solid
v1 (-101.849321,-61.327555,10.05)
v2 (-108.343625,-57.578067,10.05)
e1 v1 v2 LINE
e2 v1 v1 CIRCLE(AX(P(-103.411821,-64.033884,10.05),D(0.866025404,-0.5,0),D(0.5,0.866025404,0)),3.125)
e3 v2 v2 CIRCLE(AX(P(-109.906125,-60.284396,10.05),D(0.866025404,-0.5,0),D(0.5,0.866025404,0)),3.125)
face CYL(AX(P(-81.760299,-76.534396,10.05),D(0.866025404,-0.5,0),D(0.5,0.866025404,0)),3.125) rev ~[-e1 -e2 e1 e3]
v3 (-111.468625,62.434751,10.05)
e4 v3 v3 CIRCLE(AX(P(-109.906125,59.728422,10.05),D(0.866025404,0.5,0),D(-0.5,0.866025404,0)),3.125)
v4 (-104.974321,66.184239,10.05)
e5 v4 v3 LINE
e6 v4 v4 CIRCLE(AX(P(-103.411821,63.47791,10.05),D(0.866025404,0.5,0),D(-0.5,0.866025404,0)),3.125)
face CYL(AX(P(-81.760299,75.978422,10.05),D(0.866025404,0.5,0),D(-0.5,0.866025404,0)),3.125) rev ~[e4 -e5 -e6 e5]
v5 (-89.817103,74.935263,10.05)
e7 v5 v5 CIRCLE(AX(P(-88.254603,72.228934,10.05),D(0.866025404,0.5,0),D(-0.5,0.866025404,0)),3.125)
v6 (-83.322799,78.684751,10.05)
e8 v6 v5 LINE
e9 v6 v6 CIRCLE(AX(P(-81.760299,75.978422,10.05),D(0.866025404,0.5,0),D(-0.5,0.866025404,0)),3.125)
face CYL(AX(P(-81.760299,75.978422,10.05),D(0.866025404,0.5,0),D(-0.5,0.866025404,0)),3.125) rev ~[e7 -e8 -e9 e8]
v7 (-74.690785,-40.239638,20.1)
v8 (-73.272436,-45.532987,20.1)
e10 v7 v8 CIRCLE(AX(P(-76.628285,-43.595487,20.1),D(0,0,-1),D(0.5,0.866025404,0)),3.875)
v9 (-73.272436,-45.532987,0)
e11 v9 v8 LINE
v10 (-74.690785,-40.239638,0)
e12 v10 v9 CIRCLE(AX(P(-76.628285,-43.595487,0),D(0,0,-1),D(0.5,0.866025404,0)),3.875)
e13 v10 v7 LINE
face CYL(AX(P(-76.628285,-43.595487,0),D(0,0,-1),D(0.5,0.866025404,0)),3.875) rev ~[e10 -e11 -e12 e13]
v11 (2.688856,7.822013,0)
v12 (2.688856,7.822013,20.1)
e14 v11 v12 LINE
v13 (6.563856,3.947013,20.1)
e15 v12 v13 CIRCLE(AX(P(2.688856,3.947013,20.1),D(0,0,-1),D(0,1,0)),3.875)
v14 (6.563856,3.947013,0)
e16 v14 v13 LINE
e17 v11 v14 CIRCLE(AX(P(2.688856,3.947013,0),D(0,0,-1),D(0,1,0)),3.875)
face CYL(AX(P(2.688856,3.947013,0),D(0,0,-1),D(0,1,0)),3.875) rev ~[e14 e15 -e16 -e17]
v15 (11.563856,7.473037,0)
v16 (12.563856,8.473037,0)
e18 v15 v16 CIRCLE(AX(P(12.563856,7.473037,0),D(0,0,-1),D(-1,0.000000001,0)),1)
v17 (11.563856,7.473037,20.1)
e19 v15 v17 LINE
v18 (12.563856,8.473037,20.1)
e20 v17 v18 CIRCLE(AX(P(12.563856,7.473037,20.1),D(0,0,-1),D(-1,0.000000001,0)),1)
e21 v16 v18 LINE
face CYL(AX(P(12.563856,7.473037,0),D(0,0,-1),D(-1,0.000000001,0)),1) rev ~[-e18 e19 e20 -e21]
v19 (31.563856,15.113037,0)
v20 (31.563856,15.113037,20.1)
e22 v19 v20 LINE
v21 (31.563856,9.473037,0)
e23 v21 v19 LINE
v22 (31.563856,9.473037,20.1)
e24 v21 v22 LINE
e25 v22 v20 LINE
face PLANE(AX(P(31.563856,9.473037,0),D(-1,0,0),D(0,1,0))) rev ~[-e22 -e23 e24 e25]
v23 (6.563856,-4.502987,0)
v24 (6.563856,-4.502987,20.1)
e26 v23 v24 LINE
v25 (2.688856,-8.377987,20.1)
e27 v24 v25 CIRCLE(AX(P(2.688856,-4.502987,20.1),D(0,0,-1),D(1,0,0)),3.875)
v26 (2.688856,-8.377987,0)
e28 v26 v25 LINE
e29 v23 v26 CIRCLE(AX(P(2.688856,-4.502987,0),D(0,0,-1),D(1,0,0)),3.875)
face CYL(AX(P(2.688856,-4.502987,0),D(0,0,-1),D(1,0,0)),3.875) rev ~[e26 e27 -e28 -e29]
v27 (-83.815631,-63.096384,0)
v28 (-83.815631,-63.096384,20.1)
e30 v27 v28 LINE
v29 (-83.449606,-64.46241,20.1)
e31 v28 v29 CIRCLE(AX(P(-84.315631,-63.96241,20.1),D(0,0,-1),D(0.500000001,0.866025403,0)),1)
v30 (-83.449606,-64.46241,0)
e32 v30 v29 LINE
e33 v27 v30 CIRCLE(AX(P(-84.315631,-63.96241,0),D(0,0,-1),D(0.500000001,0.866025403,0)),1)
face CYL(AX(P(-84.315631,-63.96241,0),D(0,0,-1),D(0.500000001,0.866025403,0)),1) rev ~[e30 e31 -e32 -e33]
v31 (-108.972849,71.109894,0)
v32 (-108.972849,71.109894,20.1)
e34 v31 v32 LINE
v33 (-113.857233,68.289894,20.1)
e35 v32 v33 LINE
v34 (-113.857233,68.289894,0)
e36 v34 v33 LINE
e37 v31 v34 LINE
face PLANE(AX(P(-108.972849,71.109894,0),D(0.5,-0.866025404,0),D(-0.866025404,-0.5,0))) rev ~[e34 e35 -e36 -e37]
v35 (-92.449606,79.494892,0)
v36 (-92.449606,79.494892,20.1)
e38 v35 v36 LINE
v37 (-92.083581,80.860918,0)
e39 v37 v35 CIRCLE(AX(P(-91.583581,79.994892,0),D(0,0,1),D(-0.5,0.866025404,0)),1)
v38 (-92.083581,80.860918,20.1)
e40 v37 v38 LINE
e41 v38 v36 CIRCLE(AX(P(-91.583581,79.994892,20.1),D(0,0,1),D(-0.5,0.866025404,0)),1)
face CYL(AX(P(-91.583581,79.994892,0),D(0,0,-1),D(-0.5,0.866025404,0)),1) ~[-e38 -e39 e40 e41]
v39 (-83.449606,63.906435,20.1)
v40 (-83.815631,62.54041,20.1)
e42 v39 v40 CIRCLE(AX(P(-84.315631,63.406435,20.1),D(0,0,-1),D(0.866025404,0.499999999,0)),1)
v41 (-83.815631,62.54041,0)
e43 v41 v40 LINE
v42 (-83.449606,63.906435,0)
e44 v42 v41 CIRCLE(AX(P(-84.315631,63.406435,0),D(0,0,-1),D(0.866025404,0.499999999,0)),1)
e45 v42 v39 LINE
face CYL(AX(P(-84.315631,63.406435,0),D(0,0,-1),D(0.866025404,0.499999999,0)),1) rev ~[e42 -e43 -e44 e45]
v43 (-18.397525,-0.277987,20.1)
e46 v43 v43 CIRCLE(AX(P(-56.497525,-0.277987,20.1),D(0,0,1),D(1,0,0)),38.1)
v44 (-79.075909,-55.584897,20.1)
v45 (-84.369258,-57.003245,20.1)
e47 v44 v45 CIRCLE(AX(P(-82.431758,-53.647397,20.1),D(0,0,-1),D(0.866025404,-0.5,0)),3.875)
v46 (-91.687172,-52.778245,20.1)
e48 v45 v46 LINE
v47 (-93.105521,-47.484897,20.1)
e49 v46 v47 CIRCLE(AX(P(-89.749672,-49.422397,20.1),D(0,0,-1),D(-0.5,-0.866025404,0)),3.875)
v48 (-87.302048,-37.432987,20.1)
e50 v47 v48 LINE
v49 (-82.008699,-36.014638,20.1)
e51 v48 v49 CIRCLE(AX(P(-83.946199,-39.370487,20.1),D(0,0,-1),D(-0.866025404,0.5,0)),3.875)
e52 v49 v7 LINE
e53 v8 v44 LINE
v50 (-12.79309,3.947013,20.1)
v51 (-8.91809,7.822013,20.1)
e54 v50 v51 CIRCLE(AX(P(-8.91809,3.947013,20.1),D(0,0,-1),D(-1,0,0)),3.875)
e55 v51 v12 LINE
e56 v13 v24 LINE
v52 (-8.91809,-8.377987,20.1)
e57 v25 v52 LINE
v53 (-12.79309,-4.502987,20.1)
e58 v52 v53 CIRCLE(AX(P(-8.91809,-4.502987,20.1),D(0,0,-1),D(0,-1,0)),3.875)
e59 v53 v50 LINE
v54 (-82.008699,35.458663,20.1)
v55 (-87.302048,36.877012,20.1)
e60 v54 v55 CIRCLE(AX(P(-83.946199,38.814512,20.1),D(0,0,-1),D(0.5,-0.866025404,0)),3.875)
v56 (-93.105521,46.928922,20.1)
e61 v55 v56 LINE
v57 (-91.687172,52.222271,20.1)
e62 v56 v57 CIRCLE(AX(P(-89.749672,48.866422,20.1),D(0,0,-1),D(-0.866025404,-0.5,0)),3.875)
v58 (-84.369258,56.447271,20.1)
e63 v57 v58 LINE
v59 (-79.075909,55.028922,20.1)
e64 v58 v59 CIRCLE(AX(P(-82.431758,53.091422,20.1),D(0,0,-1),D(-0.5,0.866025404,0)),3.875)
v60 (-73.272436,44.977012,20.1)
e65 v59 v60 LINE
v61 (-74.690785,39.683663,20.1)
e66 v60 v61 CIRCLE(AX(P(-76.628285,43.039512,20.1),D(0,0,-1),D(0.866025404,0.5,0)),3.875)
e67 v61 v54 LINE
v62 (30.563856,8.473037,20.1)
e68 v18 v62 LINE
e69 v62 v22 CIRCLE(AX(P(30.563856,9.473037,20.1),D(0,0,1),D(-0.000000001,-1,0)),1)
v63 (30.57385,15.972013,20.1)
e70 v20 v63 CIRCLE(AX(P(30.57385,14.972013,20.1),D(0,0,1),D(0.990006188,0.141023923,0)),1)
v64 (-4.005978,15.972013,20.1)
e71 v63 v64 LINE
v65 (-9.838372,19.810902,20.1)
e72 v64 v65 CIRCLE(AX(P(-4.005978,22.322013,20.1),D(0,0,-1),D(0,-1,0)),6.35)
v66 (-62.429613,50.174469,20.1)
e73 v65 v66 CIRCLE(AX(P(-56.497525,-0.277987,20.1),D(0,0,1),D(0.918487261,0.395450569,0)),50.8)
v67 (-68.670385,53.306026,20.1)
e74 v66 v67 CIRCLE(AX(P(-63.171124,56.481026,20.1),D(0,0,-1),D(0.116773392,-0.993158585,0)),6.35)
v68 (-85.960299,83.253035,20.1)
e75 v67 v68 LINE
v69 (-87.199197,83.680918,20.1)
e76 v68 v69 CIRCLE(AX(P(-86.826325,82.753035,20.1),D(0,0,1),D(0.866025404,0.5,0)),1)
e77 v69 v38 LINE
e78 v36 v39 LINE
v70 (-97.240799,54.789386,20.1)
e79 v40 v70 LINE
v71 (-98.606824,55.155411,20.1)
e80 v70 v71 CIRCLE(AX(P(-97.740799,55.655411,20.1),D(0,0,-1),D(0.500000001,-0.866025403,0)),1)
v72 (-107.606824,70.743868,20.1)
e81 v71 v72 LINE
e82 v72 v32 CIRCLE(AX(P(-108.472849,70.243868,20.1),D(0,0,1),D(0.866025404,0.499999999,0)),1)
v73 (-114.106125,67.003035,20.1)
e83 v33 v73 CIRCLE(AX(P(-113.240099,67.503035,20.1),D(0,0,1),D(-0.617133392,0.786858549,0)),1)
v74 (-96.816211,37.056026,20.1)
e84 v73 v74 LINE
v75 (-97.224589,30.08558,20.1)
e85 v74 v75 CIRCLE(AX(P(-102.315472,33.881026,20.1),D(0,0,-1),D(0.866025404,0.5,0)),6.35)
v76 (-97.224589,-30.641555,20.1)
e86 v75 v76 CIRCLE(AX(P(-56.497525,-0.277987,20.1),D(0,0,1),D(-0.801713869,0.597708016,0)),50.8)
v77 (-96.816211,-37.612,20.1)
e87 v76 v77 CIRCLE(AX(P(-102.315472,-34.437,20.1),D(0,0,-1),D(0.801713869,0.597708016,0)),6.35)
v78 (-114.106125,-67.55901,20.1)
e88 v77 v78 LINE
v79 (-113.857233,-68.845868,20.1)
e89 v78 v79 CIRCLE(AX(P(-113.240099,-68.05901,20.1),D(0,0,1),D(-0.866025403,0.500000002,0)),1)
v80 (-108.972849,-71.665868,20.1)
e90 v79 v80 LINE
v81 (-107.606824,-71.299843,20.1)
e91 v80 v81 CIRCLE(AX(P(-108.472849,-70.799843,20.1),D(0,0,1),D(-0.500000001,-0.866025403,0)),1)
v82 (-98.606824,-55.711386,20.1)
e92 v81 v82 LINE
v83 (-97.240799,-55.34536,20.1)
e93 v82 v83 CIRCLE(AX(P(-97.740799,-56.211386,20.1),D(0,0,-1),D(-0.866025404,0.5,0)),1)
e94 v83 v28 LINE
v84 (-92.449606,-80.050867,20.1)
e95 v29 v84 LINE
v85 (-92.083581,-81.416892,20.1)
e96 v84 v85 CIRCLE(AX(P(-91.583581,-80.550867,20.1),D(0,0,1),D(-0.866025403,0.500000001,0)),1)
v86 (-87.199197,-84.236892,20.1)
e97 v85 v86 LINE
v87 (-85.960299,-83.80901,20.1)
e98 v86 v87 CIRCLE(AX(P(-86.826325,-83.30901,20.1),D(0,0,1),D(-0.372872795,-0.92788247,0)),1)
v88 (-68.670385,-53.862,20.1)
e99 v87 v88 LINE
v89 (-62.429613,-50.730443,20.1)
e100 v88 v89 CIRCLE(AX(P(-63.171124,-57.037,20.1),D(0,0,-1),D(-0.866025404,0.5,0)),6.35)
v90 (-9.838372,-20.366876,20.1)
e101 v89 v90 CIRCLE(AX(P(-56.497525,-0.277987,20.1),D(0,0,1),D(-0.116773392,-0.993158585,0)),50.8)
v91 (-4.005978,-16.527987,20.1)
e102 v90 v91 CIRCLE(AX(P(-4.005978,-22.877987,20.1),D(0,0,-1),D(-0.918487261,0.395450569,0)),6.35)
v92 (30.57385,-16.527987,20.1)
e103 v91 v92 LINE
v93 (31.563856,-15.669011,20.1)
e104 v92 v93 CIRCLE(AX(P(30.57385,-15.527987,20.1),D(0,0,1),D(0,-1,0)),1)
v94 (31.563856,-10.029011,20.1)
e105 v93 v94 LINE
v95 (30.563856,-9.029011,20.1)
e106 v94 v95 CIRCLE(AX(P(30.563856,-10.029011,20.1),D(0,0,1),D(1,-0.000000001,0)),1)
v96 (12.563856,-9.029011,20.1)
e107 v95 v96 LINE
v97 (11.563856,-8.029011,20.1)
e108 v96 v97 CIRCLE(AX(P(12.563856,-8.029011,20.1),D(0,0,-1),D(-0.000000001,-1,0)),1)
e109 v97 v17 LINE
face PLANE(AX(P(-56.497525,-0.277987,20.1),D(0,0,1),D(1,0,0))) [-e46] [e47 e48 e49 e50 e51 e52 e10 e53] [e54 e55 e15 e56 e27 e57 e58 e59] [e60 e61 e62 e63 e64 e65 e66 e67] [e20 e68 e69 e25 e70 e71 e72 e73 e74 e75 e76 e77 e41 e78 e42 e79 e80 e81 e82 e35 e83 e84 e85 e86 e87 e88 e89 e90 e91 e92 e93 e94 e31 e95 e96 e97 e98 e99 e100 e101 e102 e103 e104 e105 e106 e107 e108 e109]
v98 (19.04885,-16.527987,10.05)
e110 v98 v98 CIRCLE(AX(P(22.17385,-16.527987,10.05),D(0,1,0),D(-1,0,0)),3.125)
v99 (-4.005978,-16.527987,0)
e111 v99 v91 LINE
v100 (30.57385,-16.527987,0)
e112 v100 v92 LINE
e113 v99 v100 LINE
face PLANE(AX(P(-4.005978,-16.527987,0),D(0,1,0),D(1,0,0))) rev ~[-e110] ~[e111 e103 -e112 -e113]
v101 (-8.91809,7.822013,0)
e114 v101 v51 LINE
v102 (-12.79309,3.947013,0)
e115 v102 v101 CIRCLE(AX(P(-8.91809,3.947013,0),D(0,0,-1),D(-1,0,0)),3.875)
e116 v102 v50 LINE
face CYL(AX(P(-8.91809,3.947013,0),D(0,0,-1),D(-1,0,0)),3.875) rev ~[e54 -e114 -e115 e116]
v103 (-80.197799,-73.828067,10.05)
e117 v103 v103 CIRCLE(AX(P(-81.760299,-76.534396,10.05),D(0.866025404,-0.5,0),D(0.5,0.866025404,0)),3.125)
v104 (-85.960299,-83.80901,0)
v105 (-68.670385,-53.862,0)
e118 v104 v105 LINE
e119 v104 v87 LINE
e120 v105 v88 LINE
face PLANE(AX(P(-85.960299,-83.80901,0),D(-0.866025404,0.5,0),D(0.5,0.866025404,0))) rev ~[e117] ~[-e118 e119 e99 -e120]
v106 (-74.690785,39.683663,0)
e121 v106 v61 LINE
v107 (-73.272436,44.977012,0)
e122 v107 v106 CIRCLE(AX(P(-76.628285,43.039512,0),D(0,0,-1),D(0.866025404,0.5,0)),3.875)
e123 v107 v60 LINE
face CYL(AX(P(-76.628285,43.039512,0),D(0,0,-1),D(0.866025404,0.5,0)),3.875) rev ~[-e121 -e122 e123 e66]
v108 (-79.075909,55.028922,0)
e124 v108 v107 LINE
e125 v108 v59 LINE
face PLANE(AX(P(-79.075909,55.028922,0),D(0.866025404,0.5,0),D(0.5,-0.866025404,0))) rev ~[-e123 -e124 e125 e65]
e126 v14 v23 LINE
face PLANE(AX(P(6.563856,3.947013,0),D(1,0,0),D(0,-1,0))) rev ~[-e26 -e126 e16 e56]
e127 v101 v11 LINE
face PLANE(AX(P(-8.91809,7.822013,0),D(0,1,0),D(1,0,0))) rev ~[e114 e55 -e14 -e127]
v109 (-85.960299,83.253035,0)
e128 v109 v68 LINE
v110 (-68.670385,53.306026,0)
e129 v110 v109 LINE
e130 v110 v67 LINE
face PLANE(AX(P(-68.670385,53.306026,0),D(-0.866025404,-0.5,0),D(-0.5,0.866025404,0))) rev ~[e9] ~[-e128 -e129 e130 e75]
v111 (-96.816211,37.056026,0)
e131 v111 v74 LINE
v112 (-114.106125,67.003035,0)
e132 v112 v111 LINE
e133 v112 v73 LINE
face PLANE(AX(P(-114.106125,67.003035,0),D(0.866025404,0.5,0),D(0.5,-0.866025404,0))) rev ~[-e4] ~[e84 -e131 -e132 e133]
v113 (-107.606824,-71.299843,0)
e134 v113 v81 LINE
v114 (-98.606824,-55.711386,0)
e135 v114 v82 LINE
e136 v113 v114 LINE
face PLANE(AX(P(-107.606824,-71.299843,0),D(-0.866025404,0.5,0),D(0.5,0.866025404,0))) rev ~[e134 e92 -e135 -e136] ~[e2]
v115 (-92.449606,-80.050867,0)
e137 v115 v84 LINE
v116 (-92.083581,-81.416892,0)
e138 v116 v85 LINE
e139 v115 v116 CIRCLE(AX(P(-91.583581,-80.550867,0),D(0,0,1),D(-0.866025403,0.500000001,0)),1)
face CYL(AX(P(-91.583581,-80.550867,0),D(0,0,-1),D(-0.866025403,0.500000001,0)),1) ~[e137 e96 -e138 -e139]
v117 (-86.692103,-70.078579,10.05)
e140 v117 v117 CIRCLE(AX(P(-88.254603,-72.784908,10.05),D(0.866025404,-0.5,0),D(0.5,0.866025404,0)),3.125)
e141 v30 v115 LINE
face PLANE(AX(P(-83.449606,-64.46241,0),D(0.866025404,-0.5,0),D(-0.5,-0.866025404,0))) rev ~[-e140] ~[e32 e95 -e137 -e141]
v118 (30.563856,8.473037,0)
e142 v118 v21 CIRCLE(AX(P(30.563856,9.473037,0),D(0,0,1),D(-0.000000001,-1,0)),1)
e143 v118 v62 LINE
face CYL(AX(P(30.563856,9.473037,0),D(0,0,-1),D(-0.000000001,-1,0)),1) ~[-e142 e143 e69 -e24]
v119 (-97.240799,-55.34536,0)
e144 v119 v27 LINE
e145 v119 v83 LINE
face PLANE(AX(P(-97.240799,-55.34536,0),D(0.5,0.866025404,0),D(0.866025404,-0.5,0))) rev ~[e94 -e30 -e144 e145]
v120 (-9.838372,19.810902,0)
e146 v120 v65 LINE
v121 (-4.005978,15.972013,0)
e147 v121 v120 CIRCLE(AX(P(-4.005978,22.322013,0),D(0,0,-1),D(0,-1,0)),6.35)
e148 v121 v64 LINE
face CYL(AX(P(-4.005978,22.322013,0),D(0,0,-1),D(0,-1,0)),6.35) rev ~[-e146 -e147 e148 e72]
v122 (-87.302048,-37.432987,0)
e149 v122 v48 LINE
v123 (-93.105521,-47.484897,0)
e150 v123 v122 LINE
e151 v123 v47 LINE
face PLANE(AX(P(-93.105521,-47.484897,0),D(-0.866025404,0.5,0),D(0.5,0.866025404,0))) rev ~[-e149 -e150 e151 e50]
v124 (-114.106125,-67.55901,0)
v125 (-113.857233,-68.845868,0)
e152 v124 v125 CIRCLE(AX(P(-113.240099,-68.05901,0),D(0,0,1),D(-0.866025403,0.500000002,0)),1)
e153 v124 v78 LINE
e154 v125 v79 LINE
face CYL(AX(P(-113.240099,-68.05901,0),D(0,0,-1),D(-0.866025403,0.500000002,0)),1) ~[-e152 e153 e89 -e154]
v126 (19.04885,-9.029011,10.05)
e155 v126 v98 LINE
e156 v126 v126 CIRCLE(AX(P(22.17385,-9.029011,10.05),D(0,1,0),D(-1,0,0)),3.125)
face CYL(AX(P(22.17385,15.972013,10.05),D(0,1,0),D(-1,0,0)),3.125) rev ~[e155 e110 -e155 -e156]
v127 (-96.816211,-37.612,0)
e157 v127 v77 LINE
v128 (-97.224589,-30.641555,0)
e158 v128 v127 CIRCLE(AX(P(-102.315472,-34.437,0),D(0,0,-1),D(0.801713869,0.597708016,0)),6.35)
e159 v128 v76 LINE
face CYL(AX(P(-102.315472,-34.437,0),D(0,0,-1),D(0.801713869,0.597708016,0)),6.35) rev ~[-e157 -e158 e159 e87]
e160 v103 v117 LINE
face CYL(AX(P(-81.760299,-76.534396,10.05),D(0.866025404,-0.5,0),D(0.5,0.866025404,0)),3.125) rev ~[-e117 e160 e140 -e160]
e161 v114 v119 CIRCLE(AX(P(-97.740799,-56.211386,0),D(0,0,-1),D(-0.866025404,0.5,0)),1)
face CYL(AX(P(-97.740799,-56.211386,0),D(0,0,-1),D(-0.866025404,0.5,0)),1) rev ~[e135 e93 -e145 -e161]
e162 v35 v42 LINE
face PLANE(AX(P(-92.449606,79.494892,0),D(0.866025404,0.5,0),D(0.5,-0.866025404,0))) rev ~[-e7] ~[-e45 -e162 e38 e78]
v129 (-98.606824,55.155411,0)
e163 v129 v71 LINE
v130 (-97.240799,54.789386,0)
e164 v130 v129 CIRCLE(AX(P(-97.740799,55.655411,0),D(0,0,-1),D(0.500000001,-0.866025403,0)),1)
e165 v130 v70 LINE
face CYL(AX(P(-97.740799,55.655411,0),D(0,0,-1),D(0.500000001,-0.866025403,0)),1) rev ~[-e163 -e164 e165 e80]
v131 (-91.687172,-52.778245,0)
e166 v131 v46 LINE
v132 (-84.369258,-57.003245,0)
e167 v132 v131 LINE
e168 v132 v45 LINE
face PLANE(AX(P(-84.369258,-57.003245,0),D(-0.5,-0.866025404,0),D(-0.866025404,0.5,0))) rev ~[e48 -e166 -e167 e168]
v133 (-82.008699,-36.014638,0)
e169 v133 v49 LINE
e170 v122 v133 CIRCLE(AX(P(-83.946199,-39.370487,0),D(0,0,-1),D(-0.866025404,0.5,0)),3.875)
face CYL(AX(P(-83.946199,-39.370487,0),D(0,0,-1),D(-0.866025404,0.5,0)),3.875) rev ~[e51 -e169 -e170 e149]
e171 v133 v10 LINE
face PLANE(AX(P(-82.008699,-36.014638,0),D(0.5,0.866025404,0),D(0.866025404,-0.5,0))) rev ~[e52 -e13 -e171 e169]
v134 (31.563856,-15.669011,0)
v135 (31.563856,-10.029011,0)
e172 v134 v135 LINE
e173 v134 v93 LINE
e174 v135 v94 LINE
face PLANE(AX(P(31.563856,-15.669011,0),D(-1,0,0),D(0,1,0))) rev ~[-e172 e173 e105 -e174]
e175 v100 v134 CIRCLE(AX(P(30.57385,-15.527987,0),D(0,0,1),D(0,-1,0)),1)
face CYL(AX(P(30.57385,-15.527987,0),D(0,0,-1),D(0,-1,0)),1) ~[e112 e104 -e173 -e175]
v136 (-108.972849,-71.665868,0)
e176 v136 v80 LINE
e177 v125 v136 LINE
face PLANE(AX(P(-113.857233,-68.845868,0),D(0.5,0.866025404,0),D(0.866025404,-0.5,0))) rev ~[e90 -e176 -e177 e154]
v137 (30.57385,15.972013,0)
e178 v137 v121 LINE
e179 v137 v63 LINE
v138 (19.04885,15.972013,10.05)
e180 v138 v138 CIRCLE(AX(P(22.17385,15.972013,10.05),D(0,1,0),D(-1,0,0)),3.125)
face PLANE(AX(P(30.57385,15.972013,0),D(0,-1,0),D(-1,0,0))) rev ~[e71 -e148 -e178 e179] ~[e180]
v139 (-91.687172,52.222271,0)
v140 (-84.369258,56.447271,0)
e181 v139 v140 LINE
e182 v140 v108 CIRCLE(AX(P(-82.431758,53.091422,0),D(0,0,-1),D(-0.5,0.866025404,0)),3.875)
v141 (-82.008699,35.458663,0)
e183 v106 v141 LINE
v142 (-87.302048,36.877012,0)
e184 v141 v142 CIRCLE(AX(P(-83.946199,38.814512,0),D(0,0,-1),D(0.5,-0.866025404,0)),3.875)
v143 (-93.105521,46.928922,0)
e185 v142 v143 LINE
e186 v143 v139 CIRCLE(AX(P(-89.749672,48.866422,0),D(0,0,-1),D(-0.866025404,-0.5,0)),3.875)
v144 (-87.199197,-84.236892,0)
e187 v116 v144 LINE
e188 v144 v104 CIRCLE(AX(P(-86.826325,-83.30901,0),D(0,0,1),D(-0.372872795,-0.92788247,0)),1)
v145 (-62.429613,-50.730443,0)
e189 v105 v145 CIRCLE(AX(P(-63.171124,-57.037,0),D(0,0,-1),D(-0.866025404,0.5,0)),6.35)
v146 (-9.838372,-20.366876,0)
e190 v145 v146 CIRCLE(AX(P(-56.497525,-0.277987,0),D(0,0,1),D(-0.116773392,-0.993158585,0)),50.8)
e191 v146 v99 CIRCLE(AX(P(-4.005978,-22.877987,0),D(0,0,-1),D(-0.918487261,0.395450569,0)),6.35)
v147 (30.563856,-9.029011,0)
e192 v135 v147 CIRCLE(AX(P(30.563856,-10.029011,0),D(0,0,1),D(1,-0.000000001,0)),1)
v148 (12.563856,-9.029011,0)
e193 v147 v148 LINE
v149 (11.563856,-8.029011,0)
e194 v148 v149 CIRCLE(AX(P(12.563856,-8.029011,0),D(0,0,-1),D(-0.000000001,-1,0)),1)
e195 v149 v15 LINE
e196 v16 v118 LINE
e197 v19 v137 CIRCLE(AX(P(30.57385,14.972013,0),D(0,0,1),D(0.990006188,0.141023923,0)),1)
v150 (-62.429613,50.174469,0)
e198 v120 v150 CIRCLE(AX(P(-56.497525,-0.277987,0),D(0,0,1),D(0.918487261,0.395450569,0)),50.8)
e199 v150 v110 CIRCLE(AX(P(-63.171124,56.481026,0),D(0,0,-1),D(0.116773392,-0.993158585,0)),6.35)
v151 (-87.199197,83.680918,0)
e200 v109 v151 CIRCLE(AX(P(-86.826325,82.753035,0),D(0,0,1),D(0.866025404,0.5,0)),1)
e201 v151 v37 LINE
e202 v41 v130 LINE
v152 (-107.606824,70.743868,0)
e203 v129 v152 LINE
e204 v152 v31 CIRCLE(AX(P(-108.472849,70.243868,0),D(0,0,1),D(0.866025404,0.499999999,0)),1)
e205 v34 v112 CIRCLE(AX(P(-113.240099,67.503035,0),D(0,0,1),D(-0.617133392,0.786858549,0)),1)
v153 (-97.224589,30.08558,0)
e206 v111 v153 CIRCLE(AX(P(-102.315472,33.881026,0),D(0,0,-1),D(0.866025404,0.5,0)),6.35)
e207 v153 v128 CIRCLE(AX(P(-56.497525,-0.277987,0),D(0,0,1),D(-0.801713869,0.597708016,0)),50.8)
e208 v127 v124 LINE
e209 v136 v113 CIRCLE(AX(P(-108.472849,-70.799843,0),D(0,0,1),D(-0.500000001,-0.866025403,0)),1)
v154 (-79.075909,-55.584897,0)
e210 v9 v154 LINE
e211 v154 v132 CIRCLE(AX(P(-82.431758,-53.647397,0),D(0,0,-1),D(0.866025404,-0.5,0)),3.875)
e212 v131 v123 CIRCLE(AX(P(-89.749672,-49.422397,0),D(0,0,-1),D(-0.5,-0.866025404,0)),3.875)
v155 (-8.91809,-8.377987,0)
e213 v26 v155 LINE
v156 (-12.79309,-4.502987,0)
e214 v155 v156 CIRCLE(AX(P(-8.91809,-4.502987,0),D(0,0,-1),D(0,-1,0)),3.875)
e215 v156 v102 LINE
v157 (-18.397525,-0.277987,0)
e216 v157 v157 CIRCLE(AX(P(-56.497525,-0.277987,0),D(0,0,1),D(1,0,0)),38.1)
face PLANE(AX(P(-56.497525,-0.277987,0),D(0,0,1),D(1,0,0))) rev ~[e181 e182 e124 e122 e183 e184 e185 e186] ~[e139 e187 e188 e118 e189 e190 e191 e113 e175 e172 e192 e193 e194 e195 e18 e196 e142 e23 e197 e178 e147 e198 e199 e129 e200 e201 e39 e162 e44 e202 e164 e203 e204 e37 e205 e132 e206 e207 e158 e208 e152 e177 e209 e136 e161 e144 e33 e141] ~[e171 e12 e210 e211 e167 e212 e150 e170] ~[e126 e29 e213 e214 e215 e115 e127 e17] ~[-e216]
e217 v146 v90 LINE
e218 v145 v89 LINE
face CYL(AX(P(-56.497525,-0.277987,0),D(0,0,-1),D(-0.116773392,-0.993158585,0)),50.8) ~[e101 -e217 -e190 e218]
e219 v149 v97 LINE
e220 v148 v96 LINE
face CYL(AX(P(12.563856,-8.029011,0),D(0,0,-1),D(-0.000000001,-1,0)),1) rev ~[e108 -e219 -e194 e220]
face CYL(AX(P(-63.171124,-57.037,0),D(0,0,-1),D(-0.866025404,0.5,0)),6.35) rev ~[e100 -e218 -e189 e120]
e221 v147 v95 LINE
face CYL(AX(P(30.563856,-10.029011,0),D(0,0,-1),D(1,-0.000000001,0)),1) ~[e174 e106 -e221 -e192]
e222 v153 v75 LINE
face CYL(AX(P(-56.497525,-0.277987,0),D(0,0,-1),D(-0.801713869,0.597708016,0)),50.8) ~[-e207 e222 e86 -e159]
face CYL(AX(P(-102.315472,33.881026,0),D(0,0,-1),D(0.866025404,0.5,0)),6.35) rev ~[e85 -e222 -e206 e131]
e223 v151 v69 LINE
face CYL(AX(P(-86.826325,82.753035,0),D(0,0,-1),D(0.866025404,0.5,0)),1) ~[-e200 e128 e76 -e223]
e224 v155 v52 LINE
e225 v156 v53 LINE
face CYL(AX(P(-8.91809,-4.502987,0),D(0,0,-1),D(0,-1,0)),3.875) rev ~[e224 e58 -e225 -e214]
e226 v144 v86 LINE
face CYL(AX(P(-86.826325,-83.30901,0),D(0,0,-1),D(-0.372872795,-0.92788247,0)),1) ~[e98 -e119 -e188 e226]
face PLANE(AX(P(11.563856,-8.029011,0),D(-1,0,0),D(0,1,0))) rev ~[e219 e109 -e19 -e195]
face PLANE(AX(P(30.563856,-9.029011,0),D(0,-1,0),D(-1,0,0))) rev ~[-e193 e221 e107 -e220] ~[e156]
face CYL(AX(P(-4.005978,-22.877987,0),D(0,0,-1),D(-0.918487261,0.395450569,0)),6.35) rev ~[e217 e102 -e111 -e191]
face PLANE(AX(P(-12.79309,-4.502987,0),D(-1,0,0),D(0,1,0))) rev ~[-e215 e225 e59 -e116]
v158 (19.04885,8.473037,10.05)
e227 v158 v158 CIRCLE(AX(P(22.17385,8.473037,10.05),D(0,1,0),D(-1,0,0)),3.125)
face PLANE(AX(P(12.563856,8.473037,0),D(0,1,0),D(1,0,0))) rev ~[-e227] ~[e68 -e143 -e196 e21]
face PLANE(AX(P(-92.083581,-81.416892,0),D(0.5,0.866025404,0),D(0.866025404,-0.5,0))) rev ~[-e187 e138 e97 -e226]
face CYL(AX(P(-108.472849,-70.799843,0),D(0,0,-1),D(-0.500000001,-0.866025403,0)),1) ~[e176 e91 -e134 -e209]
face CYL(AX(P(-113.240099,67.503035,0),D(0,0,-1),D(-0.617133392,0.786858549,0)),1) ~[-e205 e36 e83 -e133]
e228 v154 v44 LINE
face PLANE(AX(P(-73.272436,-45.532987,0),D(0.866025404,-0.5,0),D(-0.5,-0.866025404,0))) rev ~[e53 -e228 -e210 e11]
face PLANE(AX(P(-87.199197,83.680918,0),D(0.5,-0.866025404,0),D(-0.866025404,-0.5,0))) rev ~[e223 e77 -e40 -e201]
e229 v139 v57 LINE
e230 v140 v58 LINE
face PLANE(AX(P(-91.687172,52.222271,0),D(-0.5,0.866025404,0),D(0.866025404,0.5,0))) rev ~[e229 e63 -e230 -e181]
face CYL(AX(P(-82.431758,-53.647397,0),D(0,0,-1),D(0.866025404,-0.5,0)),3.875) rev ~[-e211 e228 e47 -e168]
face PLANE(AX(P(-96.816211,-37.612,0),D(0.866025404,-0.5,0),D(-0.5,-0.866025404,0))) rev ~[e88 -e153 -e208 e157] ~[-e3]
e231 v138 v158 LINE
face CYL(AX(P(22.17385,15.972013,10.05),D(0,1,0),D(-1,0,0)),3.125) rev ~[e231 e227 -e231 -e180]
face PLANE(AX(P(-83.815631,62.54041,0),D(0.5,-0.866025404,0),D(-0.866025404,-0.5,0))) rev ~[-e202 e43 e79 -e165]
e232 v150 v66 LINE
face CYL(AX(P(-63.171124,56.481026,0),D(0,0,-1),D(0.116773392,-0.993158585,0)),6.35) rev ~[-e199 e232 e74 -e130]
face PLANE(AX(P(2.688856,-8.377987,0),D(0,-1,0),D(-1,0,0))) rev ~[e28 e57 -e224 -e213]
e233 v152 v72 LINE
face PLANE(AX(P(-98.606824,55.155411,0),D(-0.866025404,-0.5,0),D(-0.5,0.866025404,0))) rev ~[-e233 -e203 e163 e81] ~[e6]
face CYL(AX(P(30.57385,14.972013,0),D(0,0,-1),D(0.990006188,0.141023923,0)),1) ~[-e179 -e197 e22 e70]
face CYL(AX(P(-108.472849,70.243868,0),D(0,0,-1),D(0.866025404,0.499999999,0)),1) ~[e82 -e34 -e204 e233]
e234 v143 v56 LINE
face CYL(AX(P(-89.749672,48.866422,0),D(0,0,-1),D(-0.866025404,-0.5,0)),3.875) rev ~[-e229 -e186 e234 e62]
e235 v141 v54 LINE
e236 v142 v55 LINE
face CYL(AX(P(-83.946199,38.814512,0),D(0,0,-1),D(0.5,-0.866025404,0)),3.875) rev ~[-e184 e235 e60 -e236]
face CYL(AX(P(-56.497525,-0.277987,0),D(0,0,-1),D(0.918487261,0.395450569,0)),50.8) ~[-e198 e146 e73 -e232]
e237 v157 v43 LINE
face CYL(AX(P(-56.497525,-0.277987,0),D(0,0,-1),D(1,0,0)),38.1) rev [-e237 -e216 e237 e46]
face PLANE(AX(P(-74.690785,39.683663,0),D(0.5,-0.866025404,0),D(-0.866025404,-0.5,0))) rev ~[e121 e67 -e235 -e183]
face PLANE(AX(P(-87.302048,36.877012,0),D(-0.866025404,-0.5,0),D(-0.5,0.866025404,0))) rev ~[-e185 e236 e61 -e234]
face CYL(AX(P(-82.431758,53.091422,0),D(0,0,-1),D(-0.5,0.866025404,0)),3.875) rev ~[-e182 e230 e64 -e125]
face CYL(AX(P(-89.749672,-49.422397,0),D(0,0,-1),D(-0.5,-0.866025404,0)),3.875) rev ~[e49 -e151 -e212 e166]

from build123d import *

# Parameters (mm, degrees)
SKETCH1_R           = 38.1
BOSS_EXTRUDE1_DEPTH = 20.1
SKETCH4_R           = 3.125
CUT_EXTRUDE3_DEPTH  = 134.421728778
SKETCH6_R           = 3.125
CUT_EXTRUDE4_DEPTH  = 134.889662183
SKETCH7_R           = 3.125
CUT_EXTRUDE5_DEPTH  = 154.333276804


with BuildPart() as part:
    # Sketch1 → Boss-Extrude1 (new body)
    with BuildSketch(Plane.XY):
        with BuildLine():
            Line((-87.199197341, 83.680917653), (-92.083580619, 80.860917653))
            ThreePointArc((-92.083580619, 80.860917653), (-92.549506445, 80.253711294), (-92.449606022, 79.494892249))
            Line((-92.449606022, 79.494892249), (-83.449606022, 63.906434981))
            ThreePointArc((-83.449606022, 63.906434981), (-83.3497056, 63.147615936), (-83.815631426, 62.540409577))
            Line((-83.815631426, 62.540409577), (-97.240798671, 54.789385655))
            ThreePointArc((-97.240798671, 54.789385655), (-97.999617716, 54.689485232), (-98.606824075, 55.155411058))
            Line((-98.606824075, 55.155411058), (-107.606824075, 70.743868326))
            ThreePointArc((-107.606824075, 70.743868326), (-108.214030434, 71.209794153), (-108.972849479, 71.10989373))
            Line((-108.972849479, 71.10989373), (-113.857232756, 68.28989373))
            ThreePointArc((-113.857232756, 68.28989373), (-114.221904453, 67.692926638), (-114.106124766, 67.003035183))
            Line((-114.106124766, 67.003035183), (-96.816210848, 37.056025818))
            ThreePointArc((-96.816210848, 37.056025818), (-95.976342212, 33.509634544), (-97.224589096, 30.085579914))
            ThreePointArc((-97.224589096, 30.085579914), (-107.297524567, -0.277987315), (-97.224589096, -30.641554544))
            ThreePointArc((-97.224589096, -30.641554544), (-95.976342212, -34.065609174), (-96.816210848, -37.612000448))
            Line((-96.816210848, -37.612000448), (-114.106124766, -67.559009813))
            ThreePointArc((-114.106124766, -67.559009813), (-114.221904453, -68.248901268), (-113.857232756, -68.84586836))
            Line((-113.857232756, -68.84586836), (-108.972849479, -71.66586836))
            ThreePointArc((-108.972849479, -71.66586836), (-108.214030434, -71.765768783), (-107.606824075, -71.299842956))
            Line((-107.606824075, -71.299842956), (-98.606824075, -55.711385688))
            ThreePointArc((-98.606824075, -55.711385688), (-97.999617716, -55.245459862), (-97.240798671, -55.345360285))
            Line((-97.240798671, -55.345360285), (-83.815631426, -63.096384207))
            ThreePointArc((-83.815631426, -63.096384207), (-83.3497056, -63.703590566), (-83.449606022, -64.462409611))
            Line((-83.449606022, -64.462409611), (-92.449606022, -80.050866879))
            ThreePointArc((-92.449606022, -80.050866879), (-92.549506445, -80.809685924), (-92.083580619, -81.416892283))
            Line((-92.083580619, -81.416892283), (-87.199197341, -84.236892283))
            ThreePointArc((-87.199197341, -84.236892283), (-86.499872826, -84.25422369), (-85.960299143, -83.809009813))
            Line((-85.960299143, -83.809009813), (-68.670385225, -53.862000448))
            ThreePointArc((-68.670385225, -53.862000448), (-66.019054608, -51.361457236), (-62.429612873, -50.730443433))
            ThreePointArc((-62.429612873, -50.730443433), (-31.097524567, -44.272077827), (-9.838371733, -20.366876204))
            ThreePointArc((-9.838371733, -20.366876204), (-7.497176881, -17.573835377), (-4.005977629, -16.527987315))
            Line((-4.005977629, -16.527987315), (30.573850208, -16.527987315))
            ThreePointArc((30.573850208, -16.527987315), (31.229203577, -16.283309737), (31.563856396, -15.669011238))
            Line((31.563856396, -15.669011238), (31.563856396, -10.029011238))
            ThreePointArc((31.563856396, -10.029011238), (31.270963178, -9.321904457), (30.563856396, -9.029011238))
            Line((30.563856396, -9.029011238), (12.563856396, -9.029011238))
            ThreePointArc((12.563856396, -9.029011238), (11.856749615, -8.736118019), (11.563856396, -8.029011238))
            Line((11.563856396, -8.029011238), (11.563856396, 7.473036608))
            ThreePointArc((11.563856396, 7.473036608), (11.856749615, 8.180143389), (12.563856396, 8.473036608))
            Line((12.563856396, 8.473036608), (30.563856396, 8.473036608))
            ThreePointArc((30.563856396, 8.473036608), (31.270963178, 8.765929827), (31.563856396, 9.473036608))
            Line((31.563856396, 9.473036608), (31.563856396, 15.113036608))
            ThreePointArc((31.563856396, 15.113036608), (31.229203577, 15.727335107), (30.573850208, 15.972012685))
            Line((30.573850208, 15.972012685), (-4.005977629, 15.972012685))
            ThreePointArc((-4.005977629, 15.972012685), (-7.497176881, 17.017860747), (-9.838371733, 19.810901574))
            ThreePointArc((-9.838371733, 19.810901574), (-31.097524567, 43.716103197), (-62.429612873, 50.174468803))
            ThreePointArc((-62.429612873, 50.174468803), (-66.019054608, 50.805482606), (-68.670385225, 53.306025818))
            Line((-68.670385225, 53.306025818), (-85.960299143, 83.253035183))
            ThreePointArc((-85.960299143, 83.253035183), (-86.499872826, 83.69824906), (-87.199197341, 83.680917653))
        make_face()
        with BuildLine():
            ThreePointArc((-91.68717238, -52.778245227), (-93.492634957, -50.425320587), (-93.105520819, -47.484896787))
            Line((-93.105520819, -47.484896787), (-87.30204773, -37.432986536))
            ThreePointArc((-87.30204773, -37.432986536), (-84.94912309, -35.627523959), (-82.00869929, -36.014638096))
            Line((-82.00869929, -36.014638096), (-74.690784628, -40.239638096))
            ThreePointArc((-74.690784628, -40.239638096), (-72.885322051, -42.592562736), (-73.272436189, -45.532986536))
            Line((-73.272436189, -45.532986536), (-79.075909278, -55.584896787))
            ThreePointArc((-79.075909278, -55.584896787), (-81.428833918, -57.390359364), (-84.369257718, -57.003245227))
            Line((-84.369257718, -57.003245227), (-91.68717238, -52.778245227))
        make_face(mode=Mode.SUBTRACT)
        with Locations((-56.497524567, -0.277987315)):
            Circle(SKETCH1_R, mode=Mode.SUBTRACT)
        with BuildLine():
            Line((-74.690784628, 39.683663466), (-82.00869929, 35.458663466))
            ThreePointArc((-82.00869929, 35.458663466), (-84.94912309, 35.071549329), (-87.30204773, 36.877011906))
            Line((-87.30204773, 36.877011906), (-93.105520819, 46.928922157))
            ThreePointArc((-93.105520819, 46.928922157), (-93.492634957, 49.869345957), (-91.68717238, 52.222270597))
            Line((-91.68717238, 52.222270597), (-84.369257718, 56.447270597))
            ThreePointArc((-84.369257718, 56.447270597), (-81.428833918, 56.834384734), (-79.075909278, 55.028922157))
            Line((-79.075909278, 55.028922157), (-73.272436189, 44.977011906))
            ThreePointArc((-73.272436189, 44.977011906), (-72.885322051, 42.036588106), (-74.690784628, 39.683663466))
        make_face(mode=Mode.SUBTRACT)
        with BuildLine():
            ThreePointArc((6.563856396, -4.502987315), (5.428895173, -7.243026092), (2.688856396, -8.377987315))
            Line((2.688856396, -8.377987315), (-8.918089783, -8.377987315))
            ThreePointArc((-8.918089783, -8.377987315), (-11.65812856, -7.243026092), (-12.793089783, -4.502987315))
            Line((-12.793089783, -4.502987315), (-12.793089783, 3.947012685))
            ThreePointArc((-12.793089783, 3.947012685), (-11.65812856, 6.687051462), (-8.918089783, 7.822012685))
            Line((-8.918089783, 7.822012685), (2.688856396, 7.822012685))
            ThreePointArc((2.688856396, 7.822012685), (5.428895173, 6.687051462), (6.563856396, 3.947012685))
            Line((6.563856396, 3.947012685), (6.563856396, -4.502987315))
        make_face(mode=Mode.SUBTRACT)
    extrude(amount=BOSS_EXTRUDE1_DEPTH)

    # Sketch4 → Cut-Extrude3 (cut, through all)
    with BuildSketch(Plane(origin=(-28.420602652, -16.408642592, 0), x_dir=(0, 0, -1), z_dir=(0.8660254037844387, 0.49999999999999983, 0))):
        with Locations(Location((-10.05, 106.679392982, 0), (0, 0, 90))):
            Circle(SKETCH4_R)
    extrude(amount=-CUT_EXTRUDE3_DEPTH, mode=Mode.SUBTRACT)

    # Sketch6 → Cut-Extrude4 (cut, through all)
    with BuildSketch(Plane(origin=(-28.179858575, 16.269648934, 0), x_dir=(0, 0, -1), z_dir=(0.8660254037844342, -0.5000000000000079, 0))):
        with Locations(Location((-10.05, -107.160881135, 0), (0, 0, 90))):
            Circle(SKETCH6_R)
    extrude(amount=-CUT_EXTRUDE4_DEPTH, mode=Mode.SUBTRACT)

    # Sketch7 → Cut-Extrude5 (cut, through all)
    with BuildSketch(Plane(origin=(0, 15.972012685, 0), x_dir=(1, 0, 0), z_dir=(0, 1, 0))):
        with Locations(Location((22.173850208, -10.05, 0), (0, 0, 180))):
            Circle(SKETCH7_R)
    extrude(amount=-CUT_EXTRUDE5_DEPTH, mode=Mode.SUBTRACT)


solid = part.part
